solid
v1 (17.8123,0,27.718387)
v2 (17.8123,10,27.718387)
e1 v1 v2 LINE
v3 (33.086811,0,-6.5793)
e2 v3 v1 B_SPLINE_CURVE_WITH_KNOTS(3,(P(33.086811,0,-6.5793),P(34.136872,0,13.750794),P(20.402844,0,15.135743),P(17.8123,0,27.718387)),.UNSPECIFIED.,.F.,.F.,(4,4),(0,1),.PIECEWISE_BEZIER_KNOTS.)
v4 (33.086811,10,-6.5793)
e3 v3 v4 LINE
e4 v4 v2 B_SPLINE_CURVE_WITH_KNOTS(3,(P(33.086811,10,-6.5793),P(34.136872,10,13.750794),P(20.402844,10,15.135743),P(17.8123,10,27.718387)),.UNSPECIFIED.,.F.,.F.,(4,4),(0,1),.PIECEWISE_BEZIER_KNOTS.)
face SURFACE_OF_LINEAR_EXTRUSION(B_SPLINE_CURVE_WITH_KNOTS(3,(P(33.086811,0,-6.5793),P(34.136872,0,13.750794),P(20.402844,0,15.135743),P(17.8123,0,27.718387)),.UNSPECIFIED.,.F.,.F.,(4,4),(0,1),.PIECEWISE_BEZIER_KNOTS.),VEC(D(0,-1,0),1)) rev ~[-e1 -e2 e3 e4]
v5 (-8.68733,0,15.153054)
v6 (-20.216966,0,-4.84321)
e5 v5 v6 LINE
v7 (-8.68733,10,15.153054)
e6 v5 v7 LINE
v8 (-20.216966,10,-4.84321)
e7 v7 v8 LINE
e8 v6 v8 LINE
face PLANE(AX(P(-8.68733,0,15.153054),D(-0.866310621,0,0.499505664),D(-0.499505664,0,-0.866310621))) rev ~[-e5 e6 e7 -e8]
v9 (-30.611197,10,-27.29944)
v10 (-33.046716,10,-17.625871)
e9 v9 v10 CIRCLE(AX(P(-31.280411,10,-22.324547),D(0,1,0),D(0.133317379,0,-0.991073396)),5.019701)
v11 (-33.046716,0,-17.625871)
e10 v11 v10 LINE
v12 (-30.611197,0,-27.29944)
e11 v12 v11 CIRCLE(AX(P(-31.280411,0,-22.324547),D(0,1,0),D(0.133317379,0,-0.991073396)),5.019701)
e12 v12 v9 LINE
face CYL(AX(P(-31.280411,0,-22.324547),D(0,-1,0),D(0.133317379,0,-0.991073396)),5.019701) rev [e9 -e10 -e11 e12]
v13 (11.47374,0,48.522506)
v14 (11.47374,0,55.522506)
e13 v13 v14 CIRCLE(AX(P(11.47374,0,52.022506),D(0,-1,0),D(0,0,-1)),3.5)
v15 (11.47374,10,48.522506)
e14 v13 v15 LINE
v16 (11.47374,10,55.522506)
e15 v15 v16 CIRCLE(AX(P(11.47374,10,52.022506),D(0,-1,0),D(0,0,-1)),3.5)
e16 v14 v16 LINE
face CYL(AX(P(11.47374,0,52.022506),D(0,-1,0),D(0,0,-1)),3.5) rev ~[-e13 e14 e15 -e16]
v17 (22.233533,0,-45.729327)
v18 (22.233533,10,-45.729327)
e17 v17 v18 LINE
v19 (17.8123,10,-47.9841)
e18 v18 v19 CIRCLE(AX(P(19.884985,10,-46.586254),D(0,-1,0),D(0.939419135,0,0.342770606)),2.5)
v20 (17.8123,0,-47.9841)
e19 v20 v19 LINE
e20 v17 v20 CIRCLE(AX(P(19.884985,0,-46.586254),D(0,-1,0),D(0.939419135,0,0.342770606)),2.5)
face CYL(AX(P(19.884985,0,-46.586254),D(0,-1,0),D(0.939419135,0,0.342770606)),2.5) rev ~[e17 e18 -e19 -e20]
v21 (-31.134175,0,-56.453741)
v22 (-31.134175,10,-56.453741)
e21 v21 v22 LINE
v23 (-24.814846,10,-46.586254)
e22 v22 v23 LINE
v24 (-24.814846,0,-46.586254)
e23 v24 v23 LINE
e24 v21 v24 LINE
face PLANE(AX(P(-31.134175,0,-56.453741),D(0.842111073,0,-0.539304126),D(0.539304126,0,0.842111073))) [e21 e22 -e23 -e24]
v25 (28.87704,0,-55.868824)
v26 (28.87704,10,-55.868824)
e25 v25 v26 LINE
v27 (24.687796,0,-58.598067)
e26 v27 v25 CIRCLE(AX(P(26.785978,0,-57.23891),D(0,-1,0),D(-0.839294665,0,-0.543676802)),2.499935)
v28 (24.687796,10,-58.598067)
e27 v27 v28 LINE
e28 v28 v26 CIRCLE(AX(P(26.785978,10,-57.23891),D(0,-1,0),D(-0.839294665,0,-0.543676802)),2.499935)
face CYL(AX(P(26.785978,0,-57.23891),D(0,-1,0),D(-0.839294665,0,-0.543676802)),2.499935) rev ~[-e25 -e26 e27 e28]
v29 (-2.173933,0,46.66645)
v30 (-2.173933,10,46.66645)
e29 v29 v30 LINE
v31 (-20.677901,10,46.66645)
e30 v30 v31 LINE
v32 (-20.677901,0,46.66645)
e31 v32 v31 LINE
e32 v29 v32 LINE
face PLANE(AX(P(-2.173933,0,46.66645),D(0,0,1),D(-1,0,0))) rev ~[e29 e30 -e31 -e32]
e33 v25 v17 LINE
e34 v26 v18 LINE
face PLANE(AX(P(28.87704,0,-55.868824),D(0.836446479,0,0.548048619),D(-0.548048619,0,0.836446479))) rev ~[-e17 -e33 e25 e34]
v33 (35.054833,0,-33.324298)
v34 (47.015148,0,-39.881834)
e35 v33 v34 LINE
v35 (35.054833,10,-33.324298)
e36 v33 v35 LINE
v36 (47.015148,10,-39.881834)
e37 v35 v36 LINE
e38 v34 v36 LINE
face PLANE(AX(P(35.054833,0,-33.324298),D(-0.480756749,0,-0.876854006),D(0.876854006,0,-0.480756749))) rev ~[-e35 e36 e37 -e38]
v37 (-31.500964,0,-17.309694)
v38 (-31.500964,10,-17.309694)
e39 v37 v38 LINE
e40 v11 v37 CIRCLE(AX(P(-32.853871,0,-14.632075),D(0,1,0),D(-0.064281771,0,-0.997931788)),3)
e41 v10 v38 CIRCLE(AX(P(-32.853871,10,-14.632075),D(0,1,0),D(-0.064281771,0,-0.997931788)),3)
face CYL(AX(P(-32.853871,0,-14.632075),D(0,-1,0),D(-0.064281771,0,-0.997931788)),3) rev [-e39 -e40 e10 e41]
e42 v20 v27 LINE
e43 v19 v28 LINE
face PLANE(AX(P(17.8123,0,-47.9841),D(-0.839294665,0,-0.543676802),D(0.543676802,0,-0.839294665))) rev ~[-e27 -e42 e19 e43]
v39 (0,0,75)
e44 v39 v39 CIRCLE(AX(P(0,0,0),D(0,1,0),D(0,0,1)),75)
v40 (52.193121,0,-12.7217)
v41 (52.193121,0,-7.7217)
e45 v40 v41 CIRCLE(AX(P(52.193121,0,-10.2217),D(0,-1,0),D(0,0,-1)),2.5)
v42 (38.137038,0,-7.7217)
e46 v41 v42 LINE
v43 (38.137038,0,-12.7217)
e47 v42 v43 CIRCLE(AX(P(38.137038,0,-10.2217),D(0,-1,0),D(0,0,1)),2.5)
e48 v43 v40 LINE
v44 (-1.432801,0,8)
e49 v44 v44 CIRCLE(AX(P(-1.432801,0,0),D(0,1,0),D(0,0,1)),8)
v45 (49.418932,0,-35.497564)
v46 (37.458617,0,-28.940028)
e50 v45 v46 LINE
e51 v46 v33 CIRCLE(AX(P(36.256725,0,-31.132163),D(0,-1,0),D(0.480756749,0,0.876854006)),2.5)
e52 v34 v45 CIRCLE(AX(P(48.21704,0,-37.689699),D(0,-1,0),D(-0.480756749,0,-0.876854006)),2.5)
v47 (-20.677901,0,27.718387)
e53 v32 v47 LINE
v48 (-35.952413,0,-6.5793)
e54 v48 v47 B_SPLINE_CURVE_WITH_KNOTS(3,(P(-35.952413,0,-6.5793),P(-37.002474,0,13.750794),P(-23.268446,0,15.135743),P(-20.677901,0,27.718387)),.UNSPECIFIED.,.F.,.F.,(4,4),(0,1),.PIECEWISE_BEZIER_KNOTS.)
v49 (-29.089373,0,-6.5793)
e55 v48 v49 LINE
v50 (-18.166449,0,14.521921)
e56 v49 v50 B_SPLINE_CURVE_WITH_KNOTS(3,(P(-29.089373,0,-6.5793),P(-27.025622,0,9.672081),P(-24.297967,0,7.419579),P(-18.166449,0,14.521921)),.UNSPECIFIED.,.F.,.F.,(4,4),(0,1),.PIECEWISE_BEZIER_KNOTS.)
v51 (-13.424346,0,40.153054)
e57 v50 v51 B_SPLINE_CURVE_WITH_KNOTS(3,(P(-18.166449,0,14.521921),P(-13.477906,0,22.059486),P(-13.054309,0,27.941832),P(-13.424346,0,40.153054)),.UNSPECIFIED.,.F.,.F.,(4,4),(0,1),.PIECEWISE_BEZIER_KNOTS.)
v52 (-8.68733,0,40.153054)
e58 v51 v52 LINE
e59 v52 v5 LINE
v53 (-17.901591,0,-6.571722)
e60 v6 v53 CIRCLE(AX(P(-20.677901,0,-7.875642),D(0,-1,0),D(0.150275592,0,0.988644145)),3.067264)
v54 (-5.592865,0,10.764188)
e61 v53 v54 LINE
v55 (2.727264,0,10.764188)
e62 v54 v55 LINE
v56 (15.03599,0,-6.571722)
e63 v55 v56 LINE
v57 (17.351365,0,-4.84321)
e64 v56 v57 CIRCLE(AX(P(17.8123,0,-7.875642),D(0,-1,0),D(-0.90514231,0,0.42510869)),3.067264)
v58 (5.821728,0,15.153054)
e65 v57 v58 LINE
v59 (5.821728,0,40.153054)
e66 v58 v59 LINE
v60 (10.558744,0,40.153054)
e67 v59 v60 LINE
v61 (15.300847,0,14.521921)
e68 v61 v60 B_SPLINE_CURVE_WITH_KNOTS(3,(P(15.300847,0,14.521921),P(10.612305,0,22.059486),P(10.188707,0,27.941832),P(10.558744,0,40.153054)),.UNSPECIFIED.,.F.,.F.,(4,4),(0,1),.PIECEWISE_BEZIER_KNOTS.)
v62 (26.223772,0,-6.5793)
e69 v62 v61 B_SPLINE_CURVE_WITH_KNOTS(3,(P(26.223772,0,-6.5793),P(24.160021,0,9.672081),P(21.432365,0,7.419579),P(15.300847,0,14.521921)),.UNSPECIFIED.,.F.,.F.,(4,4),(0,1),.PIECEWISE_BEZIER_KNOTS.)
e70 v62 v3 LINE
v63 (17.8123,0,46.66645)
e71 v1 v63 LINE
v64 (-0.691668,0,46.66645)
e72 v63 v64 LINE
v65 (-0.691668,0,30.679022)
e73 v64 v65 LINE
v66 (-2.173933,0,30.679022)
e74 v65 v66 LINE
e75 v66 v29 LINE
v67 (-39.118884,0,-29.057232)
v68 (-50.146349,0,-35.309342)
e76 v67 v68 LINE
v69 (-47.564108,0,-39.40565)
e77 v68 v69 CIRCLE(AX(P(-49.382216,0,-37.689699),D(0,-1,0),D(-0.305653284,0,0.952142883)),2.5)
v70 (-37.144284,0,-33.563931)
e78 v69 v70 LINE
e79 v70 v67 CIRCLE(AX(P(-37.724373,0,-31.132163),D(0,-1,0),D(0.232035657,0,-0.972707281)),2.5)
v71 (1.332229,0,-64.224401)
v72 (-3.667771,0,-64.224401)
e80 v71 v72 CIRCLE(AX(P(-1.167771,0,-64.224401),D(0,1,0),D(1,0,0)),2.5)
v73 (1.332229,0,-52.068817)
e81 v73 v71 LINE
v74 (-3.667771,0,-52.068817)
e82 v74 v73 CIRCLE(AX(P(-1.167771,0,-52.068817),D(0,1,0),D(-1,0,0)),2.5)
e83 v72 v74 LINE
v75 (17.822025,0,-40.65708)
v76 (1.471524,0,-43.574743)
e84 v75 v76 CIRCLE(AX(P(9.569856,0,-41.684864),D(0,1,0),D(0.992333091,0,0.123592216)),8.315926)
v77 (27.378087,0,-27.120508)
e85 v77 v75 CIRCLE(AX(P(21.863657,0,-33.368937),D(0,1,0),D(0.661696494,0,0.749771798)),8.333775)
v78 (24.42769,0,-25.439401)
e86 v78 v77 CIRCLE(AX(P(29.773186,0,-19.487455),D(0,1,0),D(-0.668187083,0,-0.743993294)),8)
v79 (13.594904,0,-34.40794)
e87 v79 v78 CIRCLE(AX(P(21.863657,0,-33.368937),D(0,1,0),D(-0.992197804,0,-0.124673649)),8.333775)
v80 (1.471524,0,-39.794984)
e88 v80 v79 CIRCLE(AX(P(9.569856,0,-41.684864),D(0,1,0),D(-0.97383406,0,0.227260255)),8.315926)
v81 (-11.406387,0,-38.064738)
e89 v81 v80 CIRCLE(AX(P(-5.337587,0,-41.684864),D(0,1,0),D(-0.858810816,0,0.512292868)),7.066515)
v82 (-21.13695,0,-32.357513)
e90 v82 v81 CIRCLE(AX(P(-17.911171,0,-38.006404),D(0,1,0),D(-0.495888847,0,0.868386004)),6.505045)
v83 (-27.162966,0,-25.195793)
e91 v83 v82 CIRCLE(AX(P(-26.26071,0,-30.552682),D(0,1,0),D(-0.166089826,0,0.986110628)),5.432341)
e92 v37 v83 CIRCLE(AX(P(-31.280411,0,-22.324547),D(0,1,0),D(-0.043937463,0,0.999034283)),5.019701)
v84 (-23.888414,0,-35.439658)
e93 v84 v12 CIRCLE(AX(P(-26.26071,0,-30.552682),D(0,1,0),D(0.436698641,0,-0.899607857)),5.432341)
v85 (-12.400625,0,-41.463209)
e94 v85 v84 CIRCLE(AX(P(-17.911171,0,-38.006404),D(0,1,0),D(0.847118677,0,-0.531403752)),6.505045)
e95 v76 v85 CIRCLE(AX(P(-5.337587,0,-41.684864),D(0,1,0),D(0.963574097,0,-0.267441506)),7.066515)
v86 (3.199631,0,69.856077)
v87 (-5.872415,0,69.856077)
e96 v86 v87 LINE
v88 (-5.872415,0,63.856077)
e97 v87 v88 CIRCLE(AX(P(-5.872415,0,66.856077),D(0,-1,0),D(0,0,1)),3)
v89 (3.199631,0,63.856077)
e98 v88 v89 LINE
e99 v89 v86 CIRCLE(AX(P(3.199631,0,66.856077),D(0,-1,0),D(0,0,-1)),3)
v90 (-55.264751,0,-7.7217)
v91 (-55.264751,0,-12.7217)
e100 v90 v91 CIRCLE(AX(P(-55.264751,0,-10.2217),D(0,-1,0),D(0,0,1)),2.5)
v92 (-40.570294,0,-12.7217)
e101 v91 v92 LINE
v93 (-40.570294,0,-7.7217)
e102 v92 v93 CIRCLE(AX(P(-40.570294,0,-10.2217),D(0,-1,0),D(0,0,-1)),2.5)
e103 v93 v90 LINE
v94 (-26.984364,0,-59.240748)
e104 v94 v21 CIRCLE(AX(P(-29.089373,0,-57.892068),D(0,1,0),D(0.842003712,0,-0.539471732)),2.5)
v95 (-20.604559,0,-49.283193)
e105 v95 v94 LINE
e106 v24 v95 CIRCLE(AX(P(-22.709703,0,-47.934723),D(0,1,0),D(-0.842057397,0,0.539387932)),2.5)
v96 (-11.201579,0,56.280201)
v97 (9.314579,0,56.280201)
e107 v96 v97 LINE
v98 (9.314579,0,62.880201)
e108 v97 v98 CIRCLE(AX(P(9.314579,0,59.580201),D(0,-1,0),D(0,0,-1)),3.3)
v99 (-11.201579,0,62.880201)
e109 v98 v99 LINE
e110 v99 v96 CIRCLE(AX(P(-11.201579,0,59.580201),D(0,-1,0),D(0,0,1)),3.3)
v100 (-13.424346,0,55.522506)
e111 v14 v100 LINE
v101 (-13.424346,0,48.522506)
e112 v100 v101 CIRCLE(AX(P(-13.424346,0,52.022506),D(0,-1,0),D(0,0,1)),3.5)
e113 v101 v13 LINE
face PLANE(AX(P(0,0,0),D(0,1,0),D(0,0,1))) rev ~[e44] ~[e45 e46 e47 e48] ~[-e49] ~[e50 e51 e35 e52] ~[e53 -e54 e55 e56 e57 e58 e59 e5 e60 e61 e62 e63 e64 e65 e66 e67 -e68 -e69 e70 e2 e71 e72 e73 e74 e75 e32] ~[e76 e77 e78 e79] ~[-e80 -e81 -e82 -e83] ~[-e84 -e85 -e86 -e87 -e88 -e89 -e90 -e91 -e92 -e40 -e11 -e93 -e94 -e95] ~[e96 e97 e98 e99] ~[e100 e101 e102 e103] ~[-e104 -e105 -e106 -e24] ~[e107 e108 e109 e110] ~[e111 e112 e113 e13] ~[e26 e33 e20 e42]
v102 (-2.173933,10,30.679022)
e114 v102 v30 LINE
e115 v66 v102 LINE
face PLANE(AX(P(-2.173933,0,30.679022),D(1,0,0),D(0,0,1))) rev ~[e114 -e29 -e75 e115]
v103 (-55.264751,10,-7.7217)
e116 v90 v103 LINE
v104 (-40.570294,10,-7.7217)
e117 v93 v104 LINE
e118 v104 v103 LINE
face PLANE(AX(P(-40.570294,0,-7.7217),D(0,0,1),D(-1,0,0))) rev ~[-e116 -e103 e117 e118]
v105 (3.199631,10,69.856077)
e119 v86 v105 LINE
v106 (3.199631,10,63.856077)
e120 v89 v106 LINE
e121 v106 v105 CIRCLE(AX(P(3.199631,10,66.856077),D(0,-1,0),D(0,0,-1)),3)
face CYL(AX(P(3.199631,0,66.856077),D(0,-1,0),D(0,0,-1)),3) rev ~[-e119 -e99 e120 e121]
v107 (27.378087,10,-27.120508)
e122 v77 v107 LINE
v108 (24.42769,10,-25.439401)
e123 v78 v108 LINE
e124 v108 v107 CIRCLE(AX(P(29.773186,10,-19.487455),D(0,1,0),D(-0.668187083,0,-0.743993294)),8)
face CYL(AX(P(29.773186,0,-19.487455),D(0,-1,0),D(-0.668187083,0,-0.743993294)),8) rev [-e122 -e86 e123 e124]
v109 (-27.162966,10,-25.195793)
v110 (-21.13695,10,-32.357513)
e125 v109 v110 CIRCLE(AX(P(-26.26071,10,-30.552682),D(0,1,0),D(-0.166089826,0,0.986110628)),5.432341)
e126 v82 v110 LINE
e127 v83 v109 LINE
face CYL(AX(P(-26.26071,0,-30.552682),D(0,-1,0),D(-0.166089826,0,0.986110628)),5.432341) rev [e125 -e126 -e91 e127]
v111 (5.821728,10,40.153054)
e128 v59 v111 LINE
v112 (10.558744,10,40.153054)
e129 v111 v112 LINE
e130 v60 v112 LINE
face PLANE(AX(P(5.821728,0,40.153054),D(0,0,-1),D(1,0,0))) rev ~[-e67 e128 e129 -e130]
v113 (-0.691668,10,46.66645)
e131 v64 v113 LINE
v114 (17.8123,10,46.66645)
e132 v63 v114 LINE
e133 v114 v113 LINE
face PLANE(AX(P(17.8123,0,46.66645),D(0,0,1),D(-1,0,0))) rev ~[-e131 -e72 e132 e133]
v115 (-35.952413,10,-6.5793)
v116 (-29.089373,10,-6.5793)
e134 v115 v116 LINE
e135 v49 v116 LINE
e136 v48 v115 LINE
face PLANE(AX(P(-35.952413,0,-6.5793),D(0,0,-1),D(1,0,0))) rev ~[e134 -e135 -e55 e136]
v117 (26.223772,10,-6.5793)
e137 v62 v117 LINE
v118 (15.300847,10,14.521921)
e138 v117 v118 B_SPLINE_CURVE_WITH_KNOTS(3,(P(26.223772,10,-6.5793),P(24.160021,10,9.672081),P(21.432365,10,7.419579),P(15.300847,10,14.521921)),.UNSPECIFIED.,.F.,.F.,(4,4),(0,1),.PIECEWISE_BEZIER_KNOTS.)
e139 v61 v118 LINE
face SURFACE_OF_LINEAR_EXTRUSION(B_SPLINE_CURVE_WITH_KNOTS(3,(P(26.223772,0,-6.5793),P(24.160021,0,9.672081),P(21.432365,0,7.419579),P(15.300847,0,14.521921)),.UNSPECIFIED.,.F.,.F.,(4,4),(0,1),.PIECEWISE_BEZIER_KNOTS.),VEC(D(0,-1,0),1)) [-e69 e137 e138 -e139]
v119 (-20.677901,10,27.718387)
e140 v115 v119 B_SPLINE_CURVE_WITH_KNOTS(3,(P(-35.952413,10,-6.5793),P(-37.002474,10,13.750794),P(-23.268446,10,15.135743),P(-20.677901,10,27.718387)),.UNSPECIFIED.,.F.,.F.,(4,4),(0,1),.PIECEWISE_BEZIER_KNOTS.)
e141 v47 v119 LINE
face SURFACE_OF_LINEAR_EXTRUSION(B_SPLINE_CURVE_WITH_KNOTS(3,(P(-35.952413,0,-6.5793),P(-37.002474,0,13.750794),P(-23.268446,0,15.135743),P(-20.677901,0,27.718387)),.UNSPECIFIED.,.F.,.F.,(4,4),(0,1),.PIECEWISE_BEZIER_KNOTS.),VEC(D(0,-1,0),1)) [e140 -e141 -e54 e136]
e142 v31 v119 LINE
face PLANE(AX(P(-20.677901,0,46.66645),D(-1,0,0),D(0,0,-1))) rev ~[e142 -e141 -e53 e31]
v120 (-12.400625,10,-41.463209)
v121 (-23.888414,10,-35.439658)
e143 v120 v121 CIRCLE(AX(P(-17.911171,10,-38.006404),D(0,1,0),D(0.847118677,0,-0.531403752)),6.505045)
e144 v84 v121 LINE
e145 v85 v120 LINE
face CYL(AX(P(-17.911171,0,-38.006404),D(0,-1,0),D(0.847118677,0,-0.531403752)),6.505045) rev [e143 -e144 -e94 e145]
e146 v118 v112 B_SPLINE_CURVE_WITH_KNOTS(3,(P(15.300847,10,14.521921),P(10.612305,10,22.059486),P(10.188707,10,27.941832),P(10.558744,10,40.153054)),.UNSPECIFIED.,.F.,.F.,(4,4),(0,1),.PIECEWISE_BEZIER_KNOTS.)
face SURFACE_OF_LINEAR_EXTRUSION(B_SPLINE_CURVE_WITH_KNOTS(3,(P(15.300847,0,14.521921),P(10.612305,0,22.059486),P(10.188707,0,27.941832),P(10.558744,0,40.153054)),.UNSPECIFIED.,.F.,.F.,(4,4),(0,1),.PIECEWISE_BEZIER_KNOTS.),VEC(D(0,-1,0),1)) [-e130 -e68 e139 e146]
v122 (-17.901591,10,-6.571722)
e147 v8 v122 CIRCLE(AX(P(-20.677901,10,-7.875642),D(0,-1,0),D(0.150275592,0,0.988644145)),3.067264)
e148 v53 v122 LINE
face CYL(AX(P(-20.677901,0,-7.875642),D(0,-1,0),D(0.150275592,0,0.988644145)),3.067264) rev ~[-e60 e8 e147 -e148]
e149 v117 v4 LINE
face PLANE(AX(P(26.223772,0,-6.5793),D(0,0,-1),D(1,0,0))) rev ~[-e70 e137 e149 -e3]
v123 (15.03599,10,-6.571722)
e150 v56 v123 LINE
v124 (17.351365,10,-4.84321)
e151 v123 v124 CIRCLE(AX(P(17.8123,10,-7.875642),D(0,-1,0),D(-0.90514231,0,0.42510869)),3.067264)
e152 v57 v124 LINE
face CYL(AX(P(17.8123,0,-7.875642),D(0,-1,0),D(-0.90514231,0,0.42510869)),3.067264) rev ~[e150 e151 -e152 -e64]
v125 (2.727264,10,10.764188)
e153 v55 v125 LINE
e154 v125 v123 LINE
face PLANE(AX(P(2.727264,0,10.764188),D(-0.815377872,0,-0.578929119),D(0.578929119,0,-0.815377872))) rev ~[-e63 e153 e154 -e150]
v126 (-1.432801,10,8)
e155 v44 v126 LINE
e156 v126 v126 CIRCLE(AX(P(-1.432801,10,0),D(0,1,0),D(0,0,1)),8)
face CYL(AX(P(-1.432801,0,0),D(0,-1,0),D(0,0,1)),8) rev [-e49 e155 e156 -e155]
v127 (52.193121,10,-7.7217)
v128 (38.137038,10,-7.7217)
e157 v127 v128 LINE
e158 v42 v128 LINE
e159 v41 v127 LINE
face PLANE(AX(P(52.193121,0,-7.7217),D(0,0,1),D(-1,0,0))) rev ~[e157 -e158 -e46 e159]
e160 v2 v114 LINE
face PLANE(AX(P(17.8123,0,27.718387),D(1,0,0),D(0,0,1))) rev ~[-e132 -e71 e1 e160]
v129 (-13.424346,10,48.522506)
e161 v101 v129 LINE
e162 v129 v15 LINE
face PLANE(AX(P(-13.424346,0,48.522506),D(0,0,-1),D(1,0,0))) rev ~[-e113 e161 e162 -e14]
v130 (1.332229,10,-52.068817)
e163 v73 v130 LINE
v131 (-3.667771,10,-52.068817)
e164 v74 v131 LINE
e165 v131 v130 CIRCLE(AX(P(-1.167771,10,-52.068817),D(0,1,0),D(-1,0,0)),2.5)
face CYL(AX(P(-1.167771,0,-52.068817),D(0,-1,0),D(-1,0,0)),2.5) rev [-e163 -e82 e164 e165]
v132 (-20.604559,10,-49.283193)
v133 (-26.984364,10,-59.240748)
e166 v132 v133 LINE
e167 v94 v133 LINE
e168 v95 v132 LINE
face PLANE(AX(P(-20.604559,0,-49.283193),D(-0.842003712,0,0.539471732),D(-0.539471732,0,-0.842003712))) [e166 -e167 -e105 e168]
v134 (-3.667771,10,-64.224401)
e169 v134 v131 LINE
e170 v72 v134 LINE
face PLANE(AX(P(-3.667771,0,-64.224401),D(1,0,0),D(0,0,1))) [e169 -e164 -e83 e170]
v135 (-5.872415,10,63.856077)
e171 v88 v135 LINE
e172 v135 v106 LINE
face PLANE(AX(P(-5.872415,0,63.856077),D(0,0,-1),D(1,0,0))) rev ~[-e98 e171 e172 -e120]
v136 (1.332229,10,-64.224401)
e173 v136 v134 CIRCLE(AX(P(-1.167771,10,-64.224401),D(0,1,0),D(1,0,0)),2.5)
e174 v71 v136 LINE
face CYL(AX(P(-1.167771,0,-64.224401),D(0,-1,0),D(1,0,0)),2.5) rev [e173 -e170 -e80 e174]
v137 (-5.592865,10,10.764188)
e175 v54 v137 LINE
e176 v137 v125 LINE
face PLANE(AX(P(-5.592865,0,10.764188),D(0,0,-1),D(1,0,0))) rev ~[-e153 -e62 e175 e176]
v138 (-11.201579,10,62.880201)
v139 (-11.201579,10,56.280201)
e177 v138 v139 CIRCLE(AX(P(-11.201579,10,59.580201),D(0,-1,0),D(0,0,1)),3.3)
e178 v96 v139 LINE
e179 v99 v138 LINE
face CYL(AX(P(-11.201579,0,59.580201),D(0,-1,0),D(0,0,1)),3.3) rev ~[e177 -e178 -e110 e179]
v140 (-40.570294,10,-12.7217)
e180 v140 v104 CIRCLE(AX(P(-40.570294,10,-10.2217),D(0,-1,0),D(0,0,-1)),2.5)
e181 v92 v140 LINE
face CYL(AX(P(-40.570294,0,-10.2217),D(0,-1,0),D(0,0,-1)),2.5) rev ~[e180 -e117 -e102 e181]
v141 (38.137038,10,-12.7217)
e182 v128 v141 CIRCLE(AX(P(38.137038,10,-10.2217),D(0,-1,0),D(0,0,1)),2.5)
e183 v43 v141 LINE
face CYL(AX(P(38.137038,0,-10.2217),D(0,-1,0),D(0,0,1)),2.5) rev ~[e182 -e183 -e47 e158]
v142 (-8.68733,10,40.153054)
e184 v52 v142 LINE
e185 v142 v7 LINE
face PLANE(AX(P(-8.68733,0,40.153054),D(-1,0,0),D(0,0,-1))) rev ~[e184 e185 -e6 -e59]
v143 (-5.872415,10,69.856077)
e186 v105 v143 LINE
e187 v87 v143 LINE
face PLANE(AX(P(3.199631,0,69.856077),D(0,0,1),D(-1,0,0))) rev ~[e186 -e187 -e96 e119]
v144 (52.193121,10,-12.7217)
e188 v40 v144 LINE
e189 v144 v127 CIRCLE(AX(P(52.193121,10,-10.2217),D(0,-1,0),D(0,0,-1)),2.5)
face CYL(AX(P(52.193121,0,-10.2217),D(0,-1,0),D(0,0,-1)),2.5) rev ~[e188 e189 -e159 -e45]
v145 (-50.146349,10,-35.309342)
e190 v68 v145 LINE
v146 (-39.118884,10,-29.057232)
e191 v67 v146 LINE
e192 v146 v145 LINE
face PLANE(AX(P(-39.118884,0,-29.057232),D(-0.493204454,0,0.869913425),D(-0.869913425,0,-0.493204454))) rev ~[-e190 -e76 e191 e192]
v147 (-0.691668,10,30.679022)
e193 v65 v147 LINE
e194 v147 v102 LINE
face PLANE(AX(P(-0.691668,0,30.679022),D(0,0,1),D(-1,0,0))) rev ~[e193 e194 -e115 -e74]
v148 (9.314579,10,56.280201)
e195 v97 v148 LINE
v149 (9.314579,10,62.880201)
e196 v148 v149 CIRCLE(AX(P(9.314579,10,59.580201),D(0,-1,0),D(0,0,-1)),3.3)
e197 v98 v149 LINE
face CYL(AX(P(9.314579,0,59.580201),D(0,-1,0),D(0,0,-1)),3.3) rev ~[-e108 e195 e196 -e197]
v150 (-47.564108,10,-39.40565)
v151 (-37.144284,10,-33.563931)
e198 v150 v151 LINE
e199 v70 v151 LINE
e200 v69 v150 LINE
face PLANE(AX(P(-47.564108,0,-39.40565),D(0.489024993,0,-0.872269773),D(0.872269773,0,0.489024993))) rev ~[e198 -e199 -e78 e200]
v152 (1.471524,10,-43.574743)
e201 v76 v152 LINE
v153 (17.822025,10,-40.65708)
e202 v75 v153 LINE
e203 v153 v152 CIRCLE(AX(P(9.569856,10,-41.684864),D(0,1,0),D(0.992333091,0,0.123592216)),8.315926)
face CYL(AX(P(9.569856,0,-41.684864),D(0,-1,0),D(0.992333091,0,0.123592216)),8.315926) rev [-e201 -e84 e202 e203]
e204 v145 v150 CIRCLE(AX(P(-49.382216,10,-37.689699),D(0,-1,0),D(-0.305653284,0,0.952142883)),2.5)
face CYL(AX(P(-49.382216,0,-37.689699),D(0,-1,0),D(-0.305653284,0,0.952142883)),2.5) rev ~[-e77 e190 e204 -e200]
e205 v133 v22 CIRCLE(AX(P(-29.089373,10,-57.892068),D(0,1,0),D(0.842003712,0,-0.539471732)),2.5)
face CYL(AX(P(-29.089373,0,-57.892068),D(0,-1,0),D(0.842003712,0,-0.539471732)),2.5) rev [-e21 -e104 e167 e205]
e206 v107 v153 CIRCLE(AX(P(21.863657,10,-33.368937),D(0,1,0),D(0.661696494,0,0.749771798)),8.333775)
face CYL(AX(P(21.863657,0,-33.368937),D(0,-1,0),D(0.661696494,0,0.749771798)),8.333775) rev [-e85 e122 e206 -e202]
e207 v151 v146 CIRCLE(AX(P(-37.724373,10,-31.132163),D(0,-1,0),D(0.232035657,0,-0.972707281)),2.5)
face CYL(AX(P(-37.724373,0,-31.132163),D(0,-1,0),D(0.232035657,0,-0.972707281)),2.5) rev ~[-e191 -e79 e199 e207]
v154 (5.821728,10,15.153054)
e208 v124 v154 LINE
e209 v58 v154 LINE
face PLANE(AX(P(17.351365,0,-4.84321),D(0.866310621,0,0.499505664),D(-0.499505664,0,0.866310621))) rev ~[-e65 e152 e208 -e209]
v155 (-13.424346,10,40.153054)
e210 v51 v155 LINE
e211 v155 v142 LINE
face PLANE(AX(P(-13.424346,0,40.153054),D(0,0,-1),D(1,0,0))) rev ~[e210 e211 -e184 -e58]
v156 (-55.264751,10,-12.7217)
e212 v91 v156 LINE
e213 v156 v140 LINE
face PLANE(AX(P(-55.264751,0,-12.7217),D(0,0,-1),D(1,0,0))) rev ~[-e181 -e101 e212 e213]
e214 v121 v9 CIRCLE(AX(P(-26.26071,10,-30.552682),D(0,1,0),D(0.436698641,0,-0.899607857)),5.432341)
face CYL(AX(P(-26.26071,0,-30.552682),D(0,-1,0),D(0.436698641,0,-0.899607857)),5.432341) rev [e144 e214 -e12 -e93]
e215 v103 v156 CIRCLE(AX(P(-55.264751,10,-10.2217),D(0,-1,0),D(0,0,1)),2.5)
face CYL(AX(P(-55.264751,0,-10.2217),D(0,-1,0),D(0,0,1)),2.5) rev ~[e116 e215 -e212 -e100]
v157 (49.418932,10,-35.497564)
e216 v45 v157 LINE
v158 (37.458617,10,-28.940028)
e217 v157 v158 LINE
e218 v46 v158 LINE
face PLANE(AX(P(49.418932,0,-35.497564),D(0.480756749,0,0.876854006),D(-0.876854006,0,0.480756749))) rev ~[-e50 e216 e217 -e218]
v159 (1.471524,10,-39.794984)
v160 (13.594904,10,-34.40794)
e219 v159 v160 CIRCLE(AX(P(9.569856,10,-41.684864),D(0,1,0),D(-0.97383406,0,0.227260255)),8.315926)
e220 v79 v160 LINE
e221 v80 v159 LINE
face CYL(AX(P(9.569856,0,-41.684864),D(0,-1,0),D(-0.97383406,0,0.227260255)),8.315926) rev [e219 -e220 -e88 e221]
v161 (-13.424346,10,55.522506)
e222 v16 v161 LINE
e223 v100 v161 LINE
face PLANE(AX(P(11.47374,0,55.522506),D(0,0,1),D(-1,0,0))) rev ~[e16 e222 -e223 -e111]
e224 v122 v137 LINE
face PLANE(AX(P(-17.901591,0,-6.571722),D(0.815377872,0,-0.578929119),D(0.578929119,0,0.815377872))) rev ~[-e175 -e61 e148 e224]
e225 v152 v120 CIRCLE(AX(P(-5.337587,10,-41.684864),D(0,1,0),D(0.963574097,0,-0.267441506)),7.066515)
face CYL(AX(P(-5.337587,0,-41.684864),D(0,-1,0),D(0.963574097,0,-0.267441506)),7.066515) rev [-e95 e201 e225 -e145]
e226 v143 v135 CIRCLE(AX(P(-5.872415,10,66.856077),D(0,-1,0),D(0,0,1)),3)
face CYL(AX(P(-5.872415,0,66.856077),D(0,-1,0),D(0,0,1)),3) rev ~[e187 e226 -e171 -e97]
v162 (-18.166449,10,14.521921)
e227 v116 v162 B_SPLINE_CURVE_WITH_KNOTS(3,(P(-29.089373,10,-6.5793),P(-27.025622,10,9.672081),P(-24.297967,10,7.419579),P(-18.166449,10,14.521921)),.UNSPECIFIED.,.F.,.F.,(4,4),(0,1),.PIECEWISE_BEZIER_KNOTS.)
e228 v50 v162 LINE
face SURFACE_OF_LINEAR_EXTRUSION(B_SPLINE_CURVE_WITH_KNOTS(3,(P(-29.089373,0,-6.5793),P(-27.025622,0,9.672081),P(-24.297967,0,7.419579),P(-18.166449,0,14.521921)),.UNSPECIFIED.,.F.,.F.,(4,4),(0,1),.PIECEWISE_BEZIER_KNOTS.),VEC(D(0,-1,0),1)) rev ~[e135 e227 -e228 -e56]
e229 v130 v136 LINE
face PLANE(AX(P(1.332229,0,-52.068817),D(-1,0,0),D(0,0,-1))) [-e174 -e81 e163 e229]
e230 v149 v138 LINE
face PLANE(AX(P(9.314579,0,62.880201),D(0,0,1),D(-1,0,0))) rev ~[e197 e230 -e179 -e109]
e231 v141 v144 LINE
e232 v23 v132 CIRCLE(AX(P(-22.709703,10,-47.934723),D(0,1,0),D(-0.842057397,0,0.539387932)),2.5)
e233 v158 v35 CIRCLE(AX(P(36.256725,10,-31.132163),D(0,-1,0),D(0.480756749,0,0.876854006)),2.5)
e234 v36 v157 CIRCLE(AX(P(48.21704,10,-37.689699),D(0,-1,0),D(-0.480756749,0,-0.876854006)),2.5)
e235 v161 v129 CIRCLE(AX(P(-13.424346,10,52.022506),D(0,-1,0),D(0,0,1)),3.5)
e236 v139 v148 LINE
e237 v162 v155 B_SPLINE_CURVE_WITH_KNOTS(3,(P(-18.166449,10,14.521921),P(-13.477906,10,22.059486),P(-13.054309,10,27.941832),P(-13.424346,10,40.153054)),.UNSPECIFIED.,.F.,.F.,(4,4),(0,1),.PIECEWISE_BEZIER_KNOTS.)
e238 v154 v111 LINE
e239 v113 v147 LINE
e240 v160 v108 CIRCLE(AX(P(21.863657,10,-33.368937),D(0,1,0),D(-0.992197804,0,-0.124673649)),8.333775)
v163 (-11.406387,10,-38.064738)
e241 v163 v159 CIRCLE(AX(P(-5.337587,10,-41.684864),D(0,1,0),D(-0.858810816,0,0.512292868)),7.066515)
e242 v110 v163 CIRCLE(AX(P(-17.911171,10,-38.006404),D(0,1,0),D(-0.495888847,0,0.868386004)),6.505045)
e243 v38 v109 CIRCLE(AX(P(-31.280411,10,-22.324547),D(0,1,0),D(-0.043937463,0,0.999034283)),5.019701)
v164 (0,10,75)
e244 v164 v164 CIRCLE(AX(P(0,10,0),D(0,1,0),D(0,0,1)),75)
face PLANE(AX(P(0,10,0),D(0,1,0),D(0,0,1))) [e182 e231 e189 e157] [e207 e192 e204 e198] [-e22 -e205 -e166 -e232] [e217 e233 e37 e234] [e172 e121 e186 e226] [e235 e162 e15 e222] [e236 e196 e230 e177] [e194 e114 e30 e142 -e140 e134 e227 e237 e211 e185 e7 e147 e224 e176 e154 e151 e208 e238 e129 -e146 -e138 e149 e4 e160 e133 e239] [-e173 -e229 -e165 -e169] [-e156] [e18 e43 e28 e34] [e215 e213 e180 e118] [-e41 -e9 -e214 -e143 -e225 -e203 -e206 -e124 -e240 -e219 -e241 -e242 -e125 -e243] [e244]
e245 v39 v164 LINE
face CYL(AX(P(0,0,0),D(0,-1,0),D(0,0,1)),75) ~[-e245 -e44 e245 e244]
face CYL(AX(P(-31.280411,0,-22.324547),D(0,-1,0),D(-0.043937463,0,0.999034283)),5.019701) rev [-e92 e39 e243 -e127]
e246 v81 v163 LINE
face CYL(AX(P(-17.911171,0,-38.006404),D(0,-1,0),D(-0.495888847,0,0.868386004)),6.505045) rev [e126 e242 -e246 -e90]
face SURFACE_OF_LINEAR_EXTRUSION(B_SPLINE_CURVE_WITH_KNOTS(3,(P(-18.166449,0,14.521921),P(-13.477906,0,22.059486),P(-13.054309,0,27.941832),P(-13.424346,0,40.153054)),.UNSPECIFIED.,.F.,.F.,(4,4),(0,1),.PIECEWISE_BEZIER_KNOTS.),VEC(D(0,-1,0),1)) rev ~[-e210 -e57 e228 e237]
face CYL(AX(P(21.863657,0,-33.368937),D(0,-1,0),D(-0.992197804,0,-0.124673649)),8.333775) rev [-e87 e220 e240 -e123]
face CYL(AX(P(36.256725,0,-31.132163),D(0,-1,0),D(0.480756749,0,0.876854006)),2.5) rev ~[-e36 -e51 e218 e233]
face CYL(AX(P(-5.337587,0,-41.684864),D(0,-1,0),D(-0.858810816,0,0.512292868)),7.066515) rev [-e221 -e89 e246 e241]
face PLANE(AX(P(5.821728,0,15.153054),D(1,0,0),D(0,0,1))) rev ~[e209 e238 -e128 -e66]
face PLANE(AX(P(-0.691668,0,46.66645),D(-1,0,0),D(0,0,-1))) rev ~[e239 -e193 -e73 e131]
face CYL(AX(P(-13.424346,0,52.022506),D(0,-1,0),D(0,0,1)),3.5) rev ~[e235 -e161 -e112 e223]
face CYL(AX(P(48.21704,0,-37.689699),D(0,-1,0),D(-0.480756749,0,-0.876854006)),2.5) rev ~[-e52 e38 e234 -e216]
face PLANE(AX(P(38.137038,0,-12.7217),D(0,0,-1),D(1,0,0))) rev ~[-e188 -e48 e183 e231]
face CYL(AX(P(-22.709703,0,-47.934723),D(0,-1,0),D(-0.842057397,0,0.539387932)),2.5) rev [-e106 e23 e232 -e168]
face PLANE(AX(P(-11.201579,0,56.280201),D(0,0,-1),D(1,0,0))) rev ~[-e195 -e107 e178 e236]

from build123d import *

# Parameters (mm, degrees)
SKETCH2_R           = 75
BOSS_EXTRUDE2_DEPTH = 10
SKETCH1_R           = 8
CUT_EXTRUDE2_DEPTH  = 10


with BuildPart() as part:
    # Sketch2 → Boss-Extrude2 (new body)
    with BuildSketch(Plane(origin=(0, 0, 0), x_dir=(1, 0, 0), z_dir=(0, 1, 0))):
        with Locations(Location((0, 0, 0), (0, 0, 270))):
            Circle(SKETCH2_R)
    extrude(amount=BOSS_EXTRUDE2_DEPTH)

    # Sketch1 → Cut-Extrude2 (cut)
    with BuildSketch(Plane(origin=(0, 0, 0), x_dir=(1, 0, 0), z_dir=(0, 1, 0))):
        with Locations(Location((-1.432800613, 0, 0), (0, 0, 270))):
            Circle(SKETCH1_R)
        with BuildLine():
            Line((-35.952412724, 6.579299902), (-29.089373403, 6.579299902))
            add(Edge.make_bspline(
                [(-29.089373403, 6.579299902), (-27.025622413, -9.672081056), (-24.297966674, -7.419579117), (-18.166448585, -14.521920914)],
                knots=[0, 0, 0, 0, 1, 1, 1, 1], degree=3))
            add(Edge.make_bspline(
                [(-18.166448585, -14.521920914), (-13.477906245, -22.059485723), (-13.054308641, -27.941832091), (-13.424345656, -40.15305356)],
                knots=[0, 0, 0, 0, 1, 1, 1, 1], degree=3))
            Line((-13.424345656, -40.15305356), (-8.687329727, -40.15305356))
            Line((-8.687329727, -40.15305356), (-8.687329727, -15.15305356))
            Line((-8.687329727, -15.15305356), (-20.216966385, 4.843209587))
            ThreePointArc((-20.216966385, 4.843209587), (-22.512806675, 10.333533655), (-17.90159089, 6.571721593))
            Line((-17.90159089, 6.571721593), (-5.592864867, -10.764187934))
            Line((-5.592864867, -10.764187934), (2.72726364, -10.764187934))
            Line((2.72726364, -10.764187934), (15.035989663, 6.571721593))
            ThreePointArc((15.035989663, 6.571721593), (19.647205448, 10.333533655), (17.351365158, 4.843209587))
            Line((17.351365158, 4.843209587), (5.8217285, -15.15305356))
            Line((5.8217285, -15.15305356), (5.8217285, -40.15305356))
            Line((5.8217285, -40.15305356), (10.558744429, -40.15305356))
            add(Edge.make_bspline(
                [(15.300847358, -14.521920914), (10.612305018, -22.059485723), (10.188707415, -27.941832091), (10.558744429, -40.15305356)],
                knots=[0, 0, 0, 0, 1, 1, 1, 1], degree=3))
            add(Edge.make_bspline(
                [(26.223772176, 6.579299902), (24.160021186, -9.672081056), (21.432365448, -7.419579117), (15.300847358, -14.521920914)],
                knots=[0, 0, 0, 0, 1, 1, 1, 1], degree=3))
            Line((26.223772176, 6.579299902), (33.086811497, 6.579299902))
            add(Edge.make_bspline(
                [(33.086811497, 6.579299902), (34.136872369, -13.750794086), (20.402844412, -15.135742794), (17.812300069, -27.718386748)],
                knots=[0, 0, 0, 0, 1, 1, 1, 1], degree=3))
            Line((17.812300069, -27.718386748), (17.812300069, -46.666450461))
            Line((17.812300069, -46.666450461), (-0.691668401, -46.666450461))
            Line((-0.691668401, -46.666450461), (-0.691668401, -30.679021703))
            Line((-0.691668401, -30.679021703), (-1.432800613, -30.679021703))
            Line((-1.432800613, -30.679021703), (-2.173932826, -30.679021703))
            Line((-2.173932826, -30.679021703), (-2.173932826, -46.666450461))
            Line((-2.173932826, -46.666450461), (-20.677901296, -46.666450461))
            Line((-20.677901296, -46.666450461), (-20.677901296, -27.718386748))
            add(Edge.make_bspline(
                [(-35.952412724, 6.579299902), (-37.002473596, -13.750794086), (-23.268445639, -15.135742794), (-20.677901296, -27.718386748)],
                knots=[0, 0, 0, 0, 1, 1, 1, 1], degree=3))
        make_face()
        with BuildLine():
            Line((-31.134175081, 56.453740846), (-24.814846439, 46.586253524))
            ThreePointArc((-24.814846439, 46.586253524), (-21.361233135, 45.829579865), (-20.604559476, 49.283193168))
            Line((-20.604559476, 49.283193168), (-26.984364124, 59.240747711))
            ThreePointArc((-26.984364124, 59.240747711), (-30.483201963, 59.96745797), (-31.134175081, 56.453740846))
        make_face()
        with BuildLine():
            Line((-13.424345656, -48.522506104), (11.473739755, -48.522506104))
            ThreePointArc((11.473739755, -48.522506104), (14.973739755, -52.022506104), (11.473739755, -55.522506104))
            Line((11.473739755, -55.522506104), (-13.424345656, -55.522506104))
            ThreePointArc((-13.424345656, -55.522506104), (-16.924345656, -52.022506104), (-13.424345656, -48.522506104))
        make_face()
        with BuildLine():
            Line((-11.201579128, -56.280200871), (9.314578626, -56.280200871))
            ThreePointArc((9.314578626, -56.280200871), (12.614578626, -59.580200871), (9.314578626, -62.880200871))
            Line((9.314578626, -62.880200871), (-11.201579128, -62.880200871))
            ThreePointArc((-11.201579128, -62.880200871), (-14.501579128, -59.580200871), (-11.201579128, -56.280200871))
        make_face()
        with BuildLine():
            Line((-5.872415439, -63.856077067), (3.199630927, -63.856077067))
            ThreePointArc((3.199630927, -63.856077067), (6.199630927, -66.856077067), (3.199630927, -69.856077067))
            Line((3.199630927, -69.856077067), (-5.872415439, -69.856077067))
            ThreePointArc((-5.872415439, -69.856077067), (-8.872415439, -66.856077067), (-5.872415439, -63.856077067))
        make_face()
        with BuildLine():
            Line((1.332228572, 52.068816937), (1.332228572, 64.224401135))
            ThreePointArc((1.332228572, 64.224401135), (-1.167771428, 66.724401135), (-3.667771428, 64.224401135))
            Line((-3.667771428, 64.224401135), (-3.667771428, 52.068816937))
            ThreePointArc((-3.667771428, 52.068816937), (-1.167771428, 49.568816937), (1.332228572, 52.068816937))
        make_face()
        with BuildLine():
            Line((17.812300069, 47.984100232), (24.687796247, 58.598066559))
            ThreePointArc((24.687796247, 58.598066559), (28.150603832, 59.333538892), (28.877039625, 55.868824335))
            Line((28.877039625, 55.868824335), (22.233533262, 45.729327008))
            ThreePointArc((22.233533262, 45.729327008), (18.749192485, 44.359153526), (17.812300069, 47.984100232))
        make_face()
        with BuildLine():
            Line((38.137038152, 12.721700218), (52.193121227, 12.721700218))
            ThreePointArc((52.193121227, 12.721700218), (54.693121227, 10.221700218), (52.193121227, 7.721700218))
            Line((52.193121227, 7.721700218), (38.137038152, 7.721700218))
            ThreePointArc((38.137038152, 7.721700218), (35.637038152, 10.221700218), (38.137038152, 12.721700218))
        make_face()
        with BuildLine():
            Line((-47.564108381, 39.405649722), (-37.144284237, 33.563931274))
            ThreePointArc((-37.144284237, 33.563931274), (-35.434524966, 30.128871371), (-39.118884044, 29.057231746))
            Line((-39.118884044, 29.057231746), (-50.146349023, 35.309342232))
            ThreePointArc((-50.146349023, 35.309342232), (-51.497079679, 39.022872656), (-47.564108381, 39.405649722))
        make_face()
        with BuildLine():
            Line((-55.264750738, 12.721700218), (-40.570294155, 12.721700218))
            ThreePointArc((-40.570294155, 12.721700218), (-38.070294155, 10.221700218), (-40.570294155, 7.721700218))
            Line((-40.570294155, 7.721700218), (-55.264750738, 7.721700218))
            ThreePointArc((-55.264750738, 7.721700218), (-57.764750738, 10.221700218), (-55.264750738, 12.721700218))
        make_face()
        with BuildLine():
            Line((35.054833416, 33.324298088), (47.015148154, 39.881834455))
            ThreePointArc((47.015148154, 39.881834455), (50.409175042, 38.891591313), (49.4189319, 35.497564425))
            Line((49.4189319, 35.497564425), (37.458617163, 28.940028057))
            ThreePointArc((37.458617163, 28.940028057), (34.064590274, 29.930271199), (35.054833416, 33.324298088))
        make_face()
        with BuildLine():
            ThreePointArc((-33.046716349, 17.625870716), (-33.455059745, 11.692930554), (-31.500963756, 17.309694049))
            ThreePointArc((-31.500963756, 17.309694049), (-26.882220389, 19.905184059), (-27.162966351, 25.195792756))
            ThreePointArc((-27.162966351, 25.195792756), (-22.104048649, 27.055183334), (-21.13695027, 32.357513233))
            ThreePointArc((-21.13695027, 32.357513233), (-14.620111434, 32.395294639), (-11.406386962, 38.06473825))
            ThreePointArc((-11.406386962, 38.06473825), (-4.396601986, 34.681279815), (1.471524132, 39.794984172))
            ThreePointArc((1.471524132, 39.794984172), (6.193027263, 34.08541272), (13.594903675, 34.407939573))
            ThreePointArc((13.594903675, 34.407939573), (16.549089374, 26.949655565), (24.427689797, 25.439401003))
            ThreePointArc((24.427689797, 25.439401003), (33.733708737, 12.53660842), (27.3780871, 27.120507712))
            ThreePointArc((27.3780871, 27.120507712), (28.671886083, 38.175165666), (17.822025263, 40.657079943))
            ThreePointArc((17.822025263, 40.657079943), (11.030714439, 49.871470086), (1.471524132, 43.574743231))
            ThreePointArc((1.471524132, 43.574743231), (-6.400960855, 48.670912402), (-12.400625348, 41.463209157))
            ThreePointArc((-12.400625348, 41.463209157), (-20.931972428, 43.767512306), (-23.888413897, 35.43965845))
            ThreePointArc((-23.888413897, 35.43965845), (-30.449277719, 34.011905286), (-30.611197445, 27.299439629))
            ThreePointArc((-30.611197445, 27.299439629), (-36.148201567, 23.550113394), (-33.046716349, 17.625870716))
        make_face()
    extrude(amount=CUT_EXTRUDE2_DEPTH, mode=Mode.SUBTRACT)


solid = part.part
